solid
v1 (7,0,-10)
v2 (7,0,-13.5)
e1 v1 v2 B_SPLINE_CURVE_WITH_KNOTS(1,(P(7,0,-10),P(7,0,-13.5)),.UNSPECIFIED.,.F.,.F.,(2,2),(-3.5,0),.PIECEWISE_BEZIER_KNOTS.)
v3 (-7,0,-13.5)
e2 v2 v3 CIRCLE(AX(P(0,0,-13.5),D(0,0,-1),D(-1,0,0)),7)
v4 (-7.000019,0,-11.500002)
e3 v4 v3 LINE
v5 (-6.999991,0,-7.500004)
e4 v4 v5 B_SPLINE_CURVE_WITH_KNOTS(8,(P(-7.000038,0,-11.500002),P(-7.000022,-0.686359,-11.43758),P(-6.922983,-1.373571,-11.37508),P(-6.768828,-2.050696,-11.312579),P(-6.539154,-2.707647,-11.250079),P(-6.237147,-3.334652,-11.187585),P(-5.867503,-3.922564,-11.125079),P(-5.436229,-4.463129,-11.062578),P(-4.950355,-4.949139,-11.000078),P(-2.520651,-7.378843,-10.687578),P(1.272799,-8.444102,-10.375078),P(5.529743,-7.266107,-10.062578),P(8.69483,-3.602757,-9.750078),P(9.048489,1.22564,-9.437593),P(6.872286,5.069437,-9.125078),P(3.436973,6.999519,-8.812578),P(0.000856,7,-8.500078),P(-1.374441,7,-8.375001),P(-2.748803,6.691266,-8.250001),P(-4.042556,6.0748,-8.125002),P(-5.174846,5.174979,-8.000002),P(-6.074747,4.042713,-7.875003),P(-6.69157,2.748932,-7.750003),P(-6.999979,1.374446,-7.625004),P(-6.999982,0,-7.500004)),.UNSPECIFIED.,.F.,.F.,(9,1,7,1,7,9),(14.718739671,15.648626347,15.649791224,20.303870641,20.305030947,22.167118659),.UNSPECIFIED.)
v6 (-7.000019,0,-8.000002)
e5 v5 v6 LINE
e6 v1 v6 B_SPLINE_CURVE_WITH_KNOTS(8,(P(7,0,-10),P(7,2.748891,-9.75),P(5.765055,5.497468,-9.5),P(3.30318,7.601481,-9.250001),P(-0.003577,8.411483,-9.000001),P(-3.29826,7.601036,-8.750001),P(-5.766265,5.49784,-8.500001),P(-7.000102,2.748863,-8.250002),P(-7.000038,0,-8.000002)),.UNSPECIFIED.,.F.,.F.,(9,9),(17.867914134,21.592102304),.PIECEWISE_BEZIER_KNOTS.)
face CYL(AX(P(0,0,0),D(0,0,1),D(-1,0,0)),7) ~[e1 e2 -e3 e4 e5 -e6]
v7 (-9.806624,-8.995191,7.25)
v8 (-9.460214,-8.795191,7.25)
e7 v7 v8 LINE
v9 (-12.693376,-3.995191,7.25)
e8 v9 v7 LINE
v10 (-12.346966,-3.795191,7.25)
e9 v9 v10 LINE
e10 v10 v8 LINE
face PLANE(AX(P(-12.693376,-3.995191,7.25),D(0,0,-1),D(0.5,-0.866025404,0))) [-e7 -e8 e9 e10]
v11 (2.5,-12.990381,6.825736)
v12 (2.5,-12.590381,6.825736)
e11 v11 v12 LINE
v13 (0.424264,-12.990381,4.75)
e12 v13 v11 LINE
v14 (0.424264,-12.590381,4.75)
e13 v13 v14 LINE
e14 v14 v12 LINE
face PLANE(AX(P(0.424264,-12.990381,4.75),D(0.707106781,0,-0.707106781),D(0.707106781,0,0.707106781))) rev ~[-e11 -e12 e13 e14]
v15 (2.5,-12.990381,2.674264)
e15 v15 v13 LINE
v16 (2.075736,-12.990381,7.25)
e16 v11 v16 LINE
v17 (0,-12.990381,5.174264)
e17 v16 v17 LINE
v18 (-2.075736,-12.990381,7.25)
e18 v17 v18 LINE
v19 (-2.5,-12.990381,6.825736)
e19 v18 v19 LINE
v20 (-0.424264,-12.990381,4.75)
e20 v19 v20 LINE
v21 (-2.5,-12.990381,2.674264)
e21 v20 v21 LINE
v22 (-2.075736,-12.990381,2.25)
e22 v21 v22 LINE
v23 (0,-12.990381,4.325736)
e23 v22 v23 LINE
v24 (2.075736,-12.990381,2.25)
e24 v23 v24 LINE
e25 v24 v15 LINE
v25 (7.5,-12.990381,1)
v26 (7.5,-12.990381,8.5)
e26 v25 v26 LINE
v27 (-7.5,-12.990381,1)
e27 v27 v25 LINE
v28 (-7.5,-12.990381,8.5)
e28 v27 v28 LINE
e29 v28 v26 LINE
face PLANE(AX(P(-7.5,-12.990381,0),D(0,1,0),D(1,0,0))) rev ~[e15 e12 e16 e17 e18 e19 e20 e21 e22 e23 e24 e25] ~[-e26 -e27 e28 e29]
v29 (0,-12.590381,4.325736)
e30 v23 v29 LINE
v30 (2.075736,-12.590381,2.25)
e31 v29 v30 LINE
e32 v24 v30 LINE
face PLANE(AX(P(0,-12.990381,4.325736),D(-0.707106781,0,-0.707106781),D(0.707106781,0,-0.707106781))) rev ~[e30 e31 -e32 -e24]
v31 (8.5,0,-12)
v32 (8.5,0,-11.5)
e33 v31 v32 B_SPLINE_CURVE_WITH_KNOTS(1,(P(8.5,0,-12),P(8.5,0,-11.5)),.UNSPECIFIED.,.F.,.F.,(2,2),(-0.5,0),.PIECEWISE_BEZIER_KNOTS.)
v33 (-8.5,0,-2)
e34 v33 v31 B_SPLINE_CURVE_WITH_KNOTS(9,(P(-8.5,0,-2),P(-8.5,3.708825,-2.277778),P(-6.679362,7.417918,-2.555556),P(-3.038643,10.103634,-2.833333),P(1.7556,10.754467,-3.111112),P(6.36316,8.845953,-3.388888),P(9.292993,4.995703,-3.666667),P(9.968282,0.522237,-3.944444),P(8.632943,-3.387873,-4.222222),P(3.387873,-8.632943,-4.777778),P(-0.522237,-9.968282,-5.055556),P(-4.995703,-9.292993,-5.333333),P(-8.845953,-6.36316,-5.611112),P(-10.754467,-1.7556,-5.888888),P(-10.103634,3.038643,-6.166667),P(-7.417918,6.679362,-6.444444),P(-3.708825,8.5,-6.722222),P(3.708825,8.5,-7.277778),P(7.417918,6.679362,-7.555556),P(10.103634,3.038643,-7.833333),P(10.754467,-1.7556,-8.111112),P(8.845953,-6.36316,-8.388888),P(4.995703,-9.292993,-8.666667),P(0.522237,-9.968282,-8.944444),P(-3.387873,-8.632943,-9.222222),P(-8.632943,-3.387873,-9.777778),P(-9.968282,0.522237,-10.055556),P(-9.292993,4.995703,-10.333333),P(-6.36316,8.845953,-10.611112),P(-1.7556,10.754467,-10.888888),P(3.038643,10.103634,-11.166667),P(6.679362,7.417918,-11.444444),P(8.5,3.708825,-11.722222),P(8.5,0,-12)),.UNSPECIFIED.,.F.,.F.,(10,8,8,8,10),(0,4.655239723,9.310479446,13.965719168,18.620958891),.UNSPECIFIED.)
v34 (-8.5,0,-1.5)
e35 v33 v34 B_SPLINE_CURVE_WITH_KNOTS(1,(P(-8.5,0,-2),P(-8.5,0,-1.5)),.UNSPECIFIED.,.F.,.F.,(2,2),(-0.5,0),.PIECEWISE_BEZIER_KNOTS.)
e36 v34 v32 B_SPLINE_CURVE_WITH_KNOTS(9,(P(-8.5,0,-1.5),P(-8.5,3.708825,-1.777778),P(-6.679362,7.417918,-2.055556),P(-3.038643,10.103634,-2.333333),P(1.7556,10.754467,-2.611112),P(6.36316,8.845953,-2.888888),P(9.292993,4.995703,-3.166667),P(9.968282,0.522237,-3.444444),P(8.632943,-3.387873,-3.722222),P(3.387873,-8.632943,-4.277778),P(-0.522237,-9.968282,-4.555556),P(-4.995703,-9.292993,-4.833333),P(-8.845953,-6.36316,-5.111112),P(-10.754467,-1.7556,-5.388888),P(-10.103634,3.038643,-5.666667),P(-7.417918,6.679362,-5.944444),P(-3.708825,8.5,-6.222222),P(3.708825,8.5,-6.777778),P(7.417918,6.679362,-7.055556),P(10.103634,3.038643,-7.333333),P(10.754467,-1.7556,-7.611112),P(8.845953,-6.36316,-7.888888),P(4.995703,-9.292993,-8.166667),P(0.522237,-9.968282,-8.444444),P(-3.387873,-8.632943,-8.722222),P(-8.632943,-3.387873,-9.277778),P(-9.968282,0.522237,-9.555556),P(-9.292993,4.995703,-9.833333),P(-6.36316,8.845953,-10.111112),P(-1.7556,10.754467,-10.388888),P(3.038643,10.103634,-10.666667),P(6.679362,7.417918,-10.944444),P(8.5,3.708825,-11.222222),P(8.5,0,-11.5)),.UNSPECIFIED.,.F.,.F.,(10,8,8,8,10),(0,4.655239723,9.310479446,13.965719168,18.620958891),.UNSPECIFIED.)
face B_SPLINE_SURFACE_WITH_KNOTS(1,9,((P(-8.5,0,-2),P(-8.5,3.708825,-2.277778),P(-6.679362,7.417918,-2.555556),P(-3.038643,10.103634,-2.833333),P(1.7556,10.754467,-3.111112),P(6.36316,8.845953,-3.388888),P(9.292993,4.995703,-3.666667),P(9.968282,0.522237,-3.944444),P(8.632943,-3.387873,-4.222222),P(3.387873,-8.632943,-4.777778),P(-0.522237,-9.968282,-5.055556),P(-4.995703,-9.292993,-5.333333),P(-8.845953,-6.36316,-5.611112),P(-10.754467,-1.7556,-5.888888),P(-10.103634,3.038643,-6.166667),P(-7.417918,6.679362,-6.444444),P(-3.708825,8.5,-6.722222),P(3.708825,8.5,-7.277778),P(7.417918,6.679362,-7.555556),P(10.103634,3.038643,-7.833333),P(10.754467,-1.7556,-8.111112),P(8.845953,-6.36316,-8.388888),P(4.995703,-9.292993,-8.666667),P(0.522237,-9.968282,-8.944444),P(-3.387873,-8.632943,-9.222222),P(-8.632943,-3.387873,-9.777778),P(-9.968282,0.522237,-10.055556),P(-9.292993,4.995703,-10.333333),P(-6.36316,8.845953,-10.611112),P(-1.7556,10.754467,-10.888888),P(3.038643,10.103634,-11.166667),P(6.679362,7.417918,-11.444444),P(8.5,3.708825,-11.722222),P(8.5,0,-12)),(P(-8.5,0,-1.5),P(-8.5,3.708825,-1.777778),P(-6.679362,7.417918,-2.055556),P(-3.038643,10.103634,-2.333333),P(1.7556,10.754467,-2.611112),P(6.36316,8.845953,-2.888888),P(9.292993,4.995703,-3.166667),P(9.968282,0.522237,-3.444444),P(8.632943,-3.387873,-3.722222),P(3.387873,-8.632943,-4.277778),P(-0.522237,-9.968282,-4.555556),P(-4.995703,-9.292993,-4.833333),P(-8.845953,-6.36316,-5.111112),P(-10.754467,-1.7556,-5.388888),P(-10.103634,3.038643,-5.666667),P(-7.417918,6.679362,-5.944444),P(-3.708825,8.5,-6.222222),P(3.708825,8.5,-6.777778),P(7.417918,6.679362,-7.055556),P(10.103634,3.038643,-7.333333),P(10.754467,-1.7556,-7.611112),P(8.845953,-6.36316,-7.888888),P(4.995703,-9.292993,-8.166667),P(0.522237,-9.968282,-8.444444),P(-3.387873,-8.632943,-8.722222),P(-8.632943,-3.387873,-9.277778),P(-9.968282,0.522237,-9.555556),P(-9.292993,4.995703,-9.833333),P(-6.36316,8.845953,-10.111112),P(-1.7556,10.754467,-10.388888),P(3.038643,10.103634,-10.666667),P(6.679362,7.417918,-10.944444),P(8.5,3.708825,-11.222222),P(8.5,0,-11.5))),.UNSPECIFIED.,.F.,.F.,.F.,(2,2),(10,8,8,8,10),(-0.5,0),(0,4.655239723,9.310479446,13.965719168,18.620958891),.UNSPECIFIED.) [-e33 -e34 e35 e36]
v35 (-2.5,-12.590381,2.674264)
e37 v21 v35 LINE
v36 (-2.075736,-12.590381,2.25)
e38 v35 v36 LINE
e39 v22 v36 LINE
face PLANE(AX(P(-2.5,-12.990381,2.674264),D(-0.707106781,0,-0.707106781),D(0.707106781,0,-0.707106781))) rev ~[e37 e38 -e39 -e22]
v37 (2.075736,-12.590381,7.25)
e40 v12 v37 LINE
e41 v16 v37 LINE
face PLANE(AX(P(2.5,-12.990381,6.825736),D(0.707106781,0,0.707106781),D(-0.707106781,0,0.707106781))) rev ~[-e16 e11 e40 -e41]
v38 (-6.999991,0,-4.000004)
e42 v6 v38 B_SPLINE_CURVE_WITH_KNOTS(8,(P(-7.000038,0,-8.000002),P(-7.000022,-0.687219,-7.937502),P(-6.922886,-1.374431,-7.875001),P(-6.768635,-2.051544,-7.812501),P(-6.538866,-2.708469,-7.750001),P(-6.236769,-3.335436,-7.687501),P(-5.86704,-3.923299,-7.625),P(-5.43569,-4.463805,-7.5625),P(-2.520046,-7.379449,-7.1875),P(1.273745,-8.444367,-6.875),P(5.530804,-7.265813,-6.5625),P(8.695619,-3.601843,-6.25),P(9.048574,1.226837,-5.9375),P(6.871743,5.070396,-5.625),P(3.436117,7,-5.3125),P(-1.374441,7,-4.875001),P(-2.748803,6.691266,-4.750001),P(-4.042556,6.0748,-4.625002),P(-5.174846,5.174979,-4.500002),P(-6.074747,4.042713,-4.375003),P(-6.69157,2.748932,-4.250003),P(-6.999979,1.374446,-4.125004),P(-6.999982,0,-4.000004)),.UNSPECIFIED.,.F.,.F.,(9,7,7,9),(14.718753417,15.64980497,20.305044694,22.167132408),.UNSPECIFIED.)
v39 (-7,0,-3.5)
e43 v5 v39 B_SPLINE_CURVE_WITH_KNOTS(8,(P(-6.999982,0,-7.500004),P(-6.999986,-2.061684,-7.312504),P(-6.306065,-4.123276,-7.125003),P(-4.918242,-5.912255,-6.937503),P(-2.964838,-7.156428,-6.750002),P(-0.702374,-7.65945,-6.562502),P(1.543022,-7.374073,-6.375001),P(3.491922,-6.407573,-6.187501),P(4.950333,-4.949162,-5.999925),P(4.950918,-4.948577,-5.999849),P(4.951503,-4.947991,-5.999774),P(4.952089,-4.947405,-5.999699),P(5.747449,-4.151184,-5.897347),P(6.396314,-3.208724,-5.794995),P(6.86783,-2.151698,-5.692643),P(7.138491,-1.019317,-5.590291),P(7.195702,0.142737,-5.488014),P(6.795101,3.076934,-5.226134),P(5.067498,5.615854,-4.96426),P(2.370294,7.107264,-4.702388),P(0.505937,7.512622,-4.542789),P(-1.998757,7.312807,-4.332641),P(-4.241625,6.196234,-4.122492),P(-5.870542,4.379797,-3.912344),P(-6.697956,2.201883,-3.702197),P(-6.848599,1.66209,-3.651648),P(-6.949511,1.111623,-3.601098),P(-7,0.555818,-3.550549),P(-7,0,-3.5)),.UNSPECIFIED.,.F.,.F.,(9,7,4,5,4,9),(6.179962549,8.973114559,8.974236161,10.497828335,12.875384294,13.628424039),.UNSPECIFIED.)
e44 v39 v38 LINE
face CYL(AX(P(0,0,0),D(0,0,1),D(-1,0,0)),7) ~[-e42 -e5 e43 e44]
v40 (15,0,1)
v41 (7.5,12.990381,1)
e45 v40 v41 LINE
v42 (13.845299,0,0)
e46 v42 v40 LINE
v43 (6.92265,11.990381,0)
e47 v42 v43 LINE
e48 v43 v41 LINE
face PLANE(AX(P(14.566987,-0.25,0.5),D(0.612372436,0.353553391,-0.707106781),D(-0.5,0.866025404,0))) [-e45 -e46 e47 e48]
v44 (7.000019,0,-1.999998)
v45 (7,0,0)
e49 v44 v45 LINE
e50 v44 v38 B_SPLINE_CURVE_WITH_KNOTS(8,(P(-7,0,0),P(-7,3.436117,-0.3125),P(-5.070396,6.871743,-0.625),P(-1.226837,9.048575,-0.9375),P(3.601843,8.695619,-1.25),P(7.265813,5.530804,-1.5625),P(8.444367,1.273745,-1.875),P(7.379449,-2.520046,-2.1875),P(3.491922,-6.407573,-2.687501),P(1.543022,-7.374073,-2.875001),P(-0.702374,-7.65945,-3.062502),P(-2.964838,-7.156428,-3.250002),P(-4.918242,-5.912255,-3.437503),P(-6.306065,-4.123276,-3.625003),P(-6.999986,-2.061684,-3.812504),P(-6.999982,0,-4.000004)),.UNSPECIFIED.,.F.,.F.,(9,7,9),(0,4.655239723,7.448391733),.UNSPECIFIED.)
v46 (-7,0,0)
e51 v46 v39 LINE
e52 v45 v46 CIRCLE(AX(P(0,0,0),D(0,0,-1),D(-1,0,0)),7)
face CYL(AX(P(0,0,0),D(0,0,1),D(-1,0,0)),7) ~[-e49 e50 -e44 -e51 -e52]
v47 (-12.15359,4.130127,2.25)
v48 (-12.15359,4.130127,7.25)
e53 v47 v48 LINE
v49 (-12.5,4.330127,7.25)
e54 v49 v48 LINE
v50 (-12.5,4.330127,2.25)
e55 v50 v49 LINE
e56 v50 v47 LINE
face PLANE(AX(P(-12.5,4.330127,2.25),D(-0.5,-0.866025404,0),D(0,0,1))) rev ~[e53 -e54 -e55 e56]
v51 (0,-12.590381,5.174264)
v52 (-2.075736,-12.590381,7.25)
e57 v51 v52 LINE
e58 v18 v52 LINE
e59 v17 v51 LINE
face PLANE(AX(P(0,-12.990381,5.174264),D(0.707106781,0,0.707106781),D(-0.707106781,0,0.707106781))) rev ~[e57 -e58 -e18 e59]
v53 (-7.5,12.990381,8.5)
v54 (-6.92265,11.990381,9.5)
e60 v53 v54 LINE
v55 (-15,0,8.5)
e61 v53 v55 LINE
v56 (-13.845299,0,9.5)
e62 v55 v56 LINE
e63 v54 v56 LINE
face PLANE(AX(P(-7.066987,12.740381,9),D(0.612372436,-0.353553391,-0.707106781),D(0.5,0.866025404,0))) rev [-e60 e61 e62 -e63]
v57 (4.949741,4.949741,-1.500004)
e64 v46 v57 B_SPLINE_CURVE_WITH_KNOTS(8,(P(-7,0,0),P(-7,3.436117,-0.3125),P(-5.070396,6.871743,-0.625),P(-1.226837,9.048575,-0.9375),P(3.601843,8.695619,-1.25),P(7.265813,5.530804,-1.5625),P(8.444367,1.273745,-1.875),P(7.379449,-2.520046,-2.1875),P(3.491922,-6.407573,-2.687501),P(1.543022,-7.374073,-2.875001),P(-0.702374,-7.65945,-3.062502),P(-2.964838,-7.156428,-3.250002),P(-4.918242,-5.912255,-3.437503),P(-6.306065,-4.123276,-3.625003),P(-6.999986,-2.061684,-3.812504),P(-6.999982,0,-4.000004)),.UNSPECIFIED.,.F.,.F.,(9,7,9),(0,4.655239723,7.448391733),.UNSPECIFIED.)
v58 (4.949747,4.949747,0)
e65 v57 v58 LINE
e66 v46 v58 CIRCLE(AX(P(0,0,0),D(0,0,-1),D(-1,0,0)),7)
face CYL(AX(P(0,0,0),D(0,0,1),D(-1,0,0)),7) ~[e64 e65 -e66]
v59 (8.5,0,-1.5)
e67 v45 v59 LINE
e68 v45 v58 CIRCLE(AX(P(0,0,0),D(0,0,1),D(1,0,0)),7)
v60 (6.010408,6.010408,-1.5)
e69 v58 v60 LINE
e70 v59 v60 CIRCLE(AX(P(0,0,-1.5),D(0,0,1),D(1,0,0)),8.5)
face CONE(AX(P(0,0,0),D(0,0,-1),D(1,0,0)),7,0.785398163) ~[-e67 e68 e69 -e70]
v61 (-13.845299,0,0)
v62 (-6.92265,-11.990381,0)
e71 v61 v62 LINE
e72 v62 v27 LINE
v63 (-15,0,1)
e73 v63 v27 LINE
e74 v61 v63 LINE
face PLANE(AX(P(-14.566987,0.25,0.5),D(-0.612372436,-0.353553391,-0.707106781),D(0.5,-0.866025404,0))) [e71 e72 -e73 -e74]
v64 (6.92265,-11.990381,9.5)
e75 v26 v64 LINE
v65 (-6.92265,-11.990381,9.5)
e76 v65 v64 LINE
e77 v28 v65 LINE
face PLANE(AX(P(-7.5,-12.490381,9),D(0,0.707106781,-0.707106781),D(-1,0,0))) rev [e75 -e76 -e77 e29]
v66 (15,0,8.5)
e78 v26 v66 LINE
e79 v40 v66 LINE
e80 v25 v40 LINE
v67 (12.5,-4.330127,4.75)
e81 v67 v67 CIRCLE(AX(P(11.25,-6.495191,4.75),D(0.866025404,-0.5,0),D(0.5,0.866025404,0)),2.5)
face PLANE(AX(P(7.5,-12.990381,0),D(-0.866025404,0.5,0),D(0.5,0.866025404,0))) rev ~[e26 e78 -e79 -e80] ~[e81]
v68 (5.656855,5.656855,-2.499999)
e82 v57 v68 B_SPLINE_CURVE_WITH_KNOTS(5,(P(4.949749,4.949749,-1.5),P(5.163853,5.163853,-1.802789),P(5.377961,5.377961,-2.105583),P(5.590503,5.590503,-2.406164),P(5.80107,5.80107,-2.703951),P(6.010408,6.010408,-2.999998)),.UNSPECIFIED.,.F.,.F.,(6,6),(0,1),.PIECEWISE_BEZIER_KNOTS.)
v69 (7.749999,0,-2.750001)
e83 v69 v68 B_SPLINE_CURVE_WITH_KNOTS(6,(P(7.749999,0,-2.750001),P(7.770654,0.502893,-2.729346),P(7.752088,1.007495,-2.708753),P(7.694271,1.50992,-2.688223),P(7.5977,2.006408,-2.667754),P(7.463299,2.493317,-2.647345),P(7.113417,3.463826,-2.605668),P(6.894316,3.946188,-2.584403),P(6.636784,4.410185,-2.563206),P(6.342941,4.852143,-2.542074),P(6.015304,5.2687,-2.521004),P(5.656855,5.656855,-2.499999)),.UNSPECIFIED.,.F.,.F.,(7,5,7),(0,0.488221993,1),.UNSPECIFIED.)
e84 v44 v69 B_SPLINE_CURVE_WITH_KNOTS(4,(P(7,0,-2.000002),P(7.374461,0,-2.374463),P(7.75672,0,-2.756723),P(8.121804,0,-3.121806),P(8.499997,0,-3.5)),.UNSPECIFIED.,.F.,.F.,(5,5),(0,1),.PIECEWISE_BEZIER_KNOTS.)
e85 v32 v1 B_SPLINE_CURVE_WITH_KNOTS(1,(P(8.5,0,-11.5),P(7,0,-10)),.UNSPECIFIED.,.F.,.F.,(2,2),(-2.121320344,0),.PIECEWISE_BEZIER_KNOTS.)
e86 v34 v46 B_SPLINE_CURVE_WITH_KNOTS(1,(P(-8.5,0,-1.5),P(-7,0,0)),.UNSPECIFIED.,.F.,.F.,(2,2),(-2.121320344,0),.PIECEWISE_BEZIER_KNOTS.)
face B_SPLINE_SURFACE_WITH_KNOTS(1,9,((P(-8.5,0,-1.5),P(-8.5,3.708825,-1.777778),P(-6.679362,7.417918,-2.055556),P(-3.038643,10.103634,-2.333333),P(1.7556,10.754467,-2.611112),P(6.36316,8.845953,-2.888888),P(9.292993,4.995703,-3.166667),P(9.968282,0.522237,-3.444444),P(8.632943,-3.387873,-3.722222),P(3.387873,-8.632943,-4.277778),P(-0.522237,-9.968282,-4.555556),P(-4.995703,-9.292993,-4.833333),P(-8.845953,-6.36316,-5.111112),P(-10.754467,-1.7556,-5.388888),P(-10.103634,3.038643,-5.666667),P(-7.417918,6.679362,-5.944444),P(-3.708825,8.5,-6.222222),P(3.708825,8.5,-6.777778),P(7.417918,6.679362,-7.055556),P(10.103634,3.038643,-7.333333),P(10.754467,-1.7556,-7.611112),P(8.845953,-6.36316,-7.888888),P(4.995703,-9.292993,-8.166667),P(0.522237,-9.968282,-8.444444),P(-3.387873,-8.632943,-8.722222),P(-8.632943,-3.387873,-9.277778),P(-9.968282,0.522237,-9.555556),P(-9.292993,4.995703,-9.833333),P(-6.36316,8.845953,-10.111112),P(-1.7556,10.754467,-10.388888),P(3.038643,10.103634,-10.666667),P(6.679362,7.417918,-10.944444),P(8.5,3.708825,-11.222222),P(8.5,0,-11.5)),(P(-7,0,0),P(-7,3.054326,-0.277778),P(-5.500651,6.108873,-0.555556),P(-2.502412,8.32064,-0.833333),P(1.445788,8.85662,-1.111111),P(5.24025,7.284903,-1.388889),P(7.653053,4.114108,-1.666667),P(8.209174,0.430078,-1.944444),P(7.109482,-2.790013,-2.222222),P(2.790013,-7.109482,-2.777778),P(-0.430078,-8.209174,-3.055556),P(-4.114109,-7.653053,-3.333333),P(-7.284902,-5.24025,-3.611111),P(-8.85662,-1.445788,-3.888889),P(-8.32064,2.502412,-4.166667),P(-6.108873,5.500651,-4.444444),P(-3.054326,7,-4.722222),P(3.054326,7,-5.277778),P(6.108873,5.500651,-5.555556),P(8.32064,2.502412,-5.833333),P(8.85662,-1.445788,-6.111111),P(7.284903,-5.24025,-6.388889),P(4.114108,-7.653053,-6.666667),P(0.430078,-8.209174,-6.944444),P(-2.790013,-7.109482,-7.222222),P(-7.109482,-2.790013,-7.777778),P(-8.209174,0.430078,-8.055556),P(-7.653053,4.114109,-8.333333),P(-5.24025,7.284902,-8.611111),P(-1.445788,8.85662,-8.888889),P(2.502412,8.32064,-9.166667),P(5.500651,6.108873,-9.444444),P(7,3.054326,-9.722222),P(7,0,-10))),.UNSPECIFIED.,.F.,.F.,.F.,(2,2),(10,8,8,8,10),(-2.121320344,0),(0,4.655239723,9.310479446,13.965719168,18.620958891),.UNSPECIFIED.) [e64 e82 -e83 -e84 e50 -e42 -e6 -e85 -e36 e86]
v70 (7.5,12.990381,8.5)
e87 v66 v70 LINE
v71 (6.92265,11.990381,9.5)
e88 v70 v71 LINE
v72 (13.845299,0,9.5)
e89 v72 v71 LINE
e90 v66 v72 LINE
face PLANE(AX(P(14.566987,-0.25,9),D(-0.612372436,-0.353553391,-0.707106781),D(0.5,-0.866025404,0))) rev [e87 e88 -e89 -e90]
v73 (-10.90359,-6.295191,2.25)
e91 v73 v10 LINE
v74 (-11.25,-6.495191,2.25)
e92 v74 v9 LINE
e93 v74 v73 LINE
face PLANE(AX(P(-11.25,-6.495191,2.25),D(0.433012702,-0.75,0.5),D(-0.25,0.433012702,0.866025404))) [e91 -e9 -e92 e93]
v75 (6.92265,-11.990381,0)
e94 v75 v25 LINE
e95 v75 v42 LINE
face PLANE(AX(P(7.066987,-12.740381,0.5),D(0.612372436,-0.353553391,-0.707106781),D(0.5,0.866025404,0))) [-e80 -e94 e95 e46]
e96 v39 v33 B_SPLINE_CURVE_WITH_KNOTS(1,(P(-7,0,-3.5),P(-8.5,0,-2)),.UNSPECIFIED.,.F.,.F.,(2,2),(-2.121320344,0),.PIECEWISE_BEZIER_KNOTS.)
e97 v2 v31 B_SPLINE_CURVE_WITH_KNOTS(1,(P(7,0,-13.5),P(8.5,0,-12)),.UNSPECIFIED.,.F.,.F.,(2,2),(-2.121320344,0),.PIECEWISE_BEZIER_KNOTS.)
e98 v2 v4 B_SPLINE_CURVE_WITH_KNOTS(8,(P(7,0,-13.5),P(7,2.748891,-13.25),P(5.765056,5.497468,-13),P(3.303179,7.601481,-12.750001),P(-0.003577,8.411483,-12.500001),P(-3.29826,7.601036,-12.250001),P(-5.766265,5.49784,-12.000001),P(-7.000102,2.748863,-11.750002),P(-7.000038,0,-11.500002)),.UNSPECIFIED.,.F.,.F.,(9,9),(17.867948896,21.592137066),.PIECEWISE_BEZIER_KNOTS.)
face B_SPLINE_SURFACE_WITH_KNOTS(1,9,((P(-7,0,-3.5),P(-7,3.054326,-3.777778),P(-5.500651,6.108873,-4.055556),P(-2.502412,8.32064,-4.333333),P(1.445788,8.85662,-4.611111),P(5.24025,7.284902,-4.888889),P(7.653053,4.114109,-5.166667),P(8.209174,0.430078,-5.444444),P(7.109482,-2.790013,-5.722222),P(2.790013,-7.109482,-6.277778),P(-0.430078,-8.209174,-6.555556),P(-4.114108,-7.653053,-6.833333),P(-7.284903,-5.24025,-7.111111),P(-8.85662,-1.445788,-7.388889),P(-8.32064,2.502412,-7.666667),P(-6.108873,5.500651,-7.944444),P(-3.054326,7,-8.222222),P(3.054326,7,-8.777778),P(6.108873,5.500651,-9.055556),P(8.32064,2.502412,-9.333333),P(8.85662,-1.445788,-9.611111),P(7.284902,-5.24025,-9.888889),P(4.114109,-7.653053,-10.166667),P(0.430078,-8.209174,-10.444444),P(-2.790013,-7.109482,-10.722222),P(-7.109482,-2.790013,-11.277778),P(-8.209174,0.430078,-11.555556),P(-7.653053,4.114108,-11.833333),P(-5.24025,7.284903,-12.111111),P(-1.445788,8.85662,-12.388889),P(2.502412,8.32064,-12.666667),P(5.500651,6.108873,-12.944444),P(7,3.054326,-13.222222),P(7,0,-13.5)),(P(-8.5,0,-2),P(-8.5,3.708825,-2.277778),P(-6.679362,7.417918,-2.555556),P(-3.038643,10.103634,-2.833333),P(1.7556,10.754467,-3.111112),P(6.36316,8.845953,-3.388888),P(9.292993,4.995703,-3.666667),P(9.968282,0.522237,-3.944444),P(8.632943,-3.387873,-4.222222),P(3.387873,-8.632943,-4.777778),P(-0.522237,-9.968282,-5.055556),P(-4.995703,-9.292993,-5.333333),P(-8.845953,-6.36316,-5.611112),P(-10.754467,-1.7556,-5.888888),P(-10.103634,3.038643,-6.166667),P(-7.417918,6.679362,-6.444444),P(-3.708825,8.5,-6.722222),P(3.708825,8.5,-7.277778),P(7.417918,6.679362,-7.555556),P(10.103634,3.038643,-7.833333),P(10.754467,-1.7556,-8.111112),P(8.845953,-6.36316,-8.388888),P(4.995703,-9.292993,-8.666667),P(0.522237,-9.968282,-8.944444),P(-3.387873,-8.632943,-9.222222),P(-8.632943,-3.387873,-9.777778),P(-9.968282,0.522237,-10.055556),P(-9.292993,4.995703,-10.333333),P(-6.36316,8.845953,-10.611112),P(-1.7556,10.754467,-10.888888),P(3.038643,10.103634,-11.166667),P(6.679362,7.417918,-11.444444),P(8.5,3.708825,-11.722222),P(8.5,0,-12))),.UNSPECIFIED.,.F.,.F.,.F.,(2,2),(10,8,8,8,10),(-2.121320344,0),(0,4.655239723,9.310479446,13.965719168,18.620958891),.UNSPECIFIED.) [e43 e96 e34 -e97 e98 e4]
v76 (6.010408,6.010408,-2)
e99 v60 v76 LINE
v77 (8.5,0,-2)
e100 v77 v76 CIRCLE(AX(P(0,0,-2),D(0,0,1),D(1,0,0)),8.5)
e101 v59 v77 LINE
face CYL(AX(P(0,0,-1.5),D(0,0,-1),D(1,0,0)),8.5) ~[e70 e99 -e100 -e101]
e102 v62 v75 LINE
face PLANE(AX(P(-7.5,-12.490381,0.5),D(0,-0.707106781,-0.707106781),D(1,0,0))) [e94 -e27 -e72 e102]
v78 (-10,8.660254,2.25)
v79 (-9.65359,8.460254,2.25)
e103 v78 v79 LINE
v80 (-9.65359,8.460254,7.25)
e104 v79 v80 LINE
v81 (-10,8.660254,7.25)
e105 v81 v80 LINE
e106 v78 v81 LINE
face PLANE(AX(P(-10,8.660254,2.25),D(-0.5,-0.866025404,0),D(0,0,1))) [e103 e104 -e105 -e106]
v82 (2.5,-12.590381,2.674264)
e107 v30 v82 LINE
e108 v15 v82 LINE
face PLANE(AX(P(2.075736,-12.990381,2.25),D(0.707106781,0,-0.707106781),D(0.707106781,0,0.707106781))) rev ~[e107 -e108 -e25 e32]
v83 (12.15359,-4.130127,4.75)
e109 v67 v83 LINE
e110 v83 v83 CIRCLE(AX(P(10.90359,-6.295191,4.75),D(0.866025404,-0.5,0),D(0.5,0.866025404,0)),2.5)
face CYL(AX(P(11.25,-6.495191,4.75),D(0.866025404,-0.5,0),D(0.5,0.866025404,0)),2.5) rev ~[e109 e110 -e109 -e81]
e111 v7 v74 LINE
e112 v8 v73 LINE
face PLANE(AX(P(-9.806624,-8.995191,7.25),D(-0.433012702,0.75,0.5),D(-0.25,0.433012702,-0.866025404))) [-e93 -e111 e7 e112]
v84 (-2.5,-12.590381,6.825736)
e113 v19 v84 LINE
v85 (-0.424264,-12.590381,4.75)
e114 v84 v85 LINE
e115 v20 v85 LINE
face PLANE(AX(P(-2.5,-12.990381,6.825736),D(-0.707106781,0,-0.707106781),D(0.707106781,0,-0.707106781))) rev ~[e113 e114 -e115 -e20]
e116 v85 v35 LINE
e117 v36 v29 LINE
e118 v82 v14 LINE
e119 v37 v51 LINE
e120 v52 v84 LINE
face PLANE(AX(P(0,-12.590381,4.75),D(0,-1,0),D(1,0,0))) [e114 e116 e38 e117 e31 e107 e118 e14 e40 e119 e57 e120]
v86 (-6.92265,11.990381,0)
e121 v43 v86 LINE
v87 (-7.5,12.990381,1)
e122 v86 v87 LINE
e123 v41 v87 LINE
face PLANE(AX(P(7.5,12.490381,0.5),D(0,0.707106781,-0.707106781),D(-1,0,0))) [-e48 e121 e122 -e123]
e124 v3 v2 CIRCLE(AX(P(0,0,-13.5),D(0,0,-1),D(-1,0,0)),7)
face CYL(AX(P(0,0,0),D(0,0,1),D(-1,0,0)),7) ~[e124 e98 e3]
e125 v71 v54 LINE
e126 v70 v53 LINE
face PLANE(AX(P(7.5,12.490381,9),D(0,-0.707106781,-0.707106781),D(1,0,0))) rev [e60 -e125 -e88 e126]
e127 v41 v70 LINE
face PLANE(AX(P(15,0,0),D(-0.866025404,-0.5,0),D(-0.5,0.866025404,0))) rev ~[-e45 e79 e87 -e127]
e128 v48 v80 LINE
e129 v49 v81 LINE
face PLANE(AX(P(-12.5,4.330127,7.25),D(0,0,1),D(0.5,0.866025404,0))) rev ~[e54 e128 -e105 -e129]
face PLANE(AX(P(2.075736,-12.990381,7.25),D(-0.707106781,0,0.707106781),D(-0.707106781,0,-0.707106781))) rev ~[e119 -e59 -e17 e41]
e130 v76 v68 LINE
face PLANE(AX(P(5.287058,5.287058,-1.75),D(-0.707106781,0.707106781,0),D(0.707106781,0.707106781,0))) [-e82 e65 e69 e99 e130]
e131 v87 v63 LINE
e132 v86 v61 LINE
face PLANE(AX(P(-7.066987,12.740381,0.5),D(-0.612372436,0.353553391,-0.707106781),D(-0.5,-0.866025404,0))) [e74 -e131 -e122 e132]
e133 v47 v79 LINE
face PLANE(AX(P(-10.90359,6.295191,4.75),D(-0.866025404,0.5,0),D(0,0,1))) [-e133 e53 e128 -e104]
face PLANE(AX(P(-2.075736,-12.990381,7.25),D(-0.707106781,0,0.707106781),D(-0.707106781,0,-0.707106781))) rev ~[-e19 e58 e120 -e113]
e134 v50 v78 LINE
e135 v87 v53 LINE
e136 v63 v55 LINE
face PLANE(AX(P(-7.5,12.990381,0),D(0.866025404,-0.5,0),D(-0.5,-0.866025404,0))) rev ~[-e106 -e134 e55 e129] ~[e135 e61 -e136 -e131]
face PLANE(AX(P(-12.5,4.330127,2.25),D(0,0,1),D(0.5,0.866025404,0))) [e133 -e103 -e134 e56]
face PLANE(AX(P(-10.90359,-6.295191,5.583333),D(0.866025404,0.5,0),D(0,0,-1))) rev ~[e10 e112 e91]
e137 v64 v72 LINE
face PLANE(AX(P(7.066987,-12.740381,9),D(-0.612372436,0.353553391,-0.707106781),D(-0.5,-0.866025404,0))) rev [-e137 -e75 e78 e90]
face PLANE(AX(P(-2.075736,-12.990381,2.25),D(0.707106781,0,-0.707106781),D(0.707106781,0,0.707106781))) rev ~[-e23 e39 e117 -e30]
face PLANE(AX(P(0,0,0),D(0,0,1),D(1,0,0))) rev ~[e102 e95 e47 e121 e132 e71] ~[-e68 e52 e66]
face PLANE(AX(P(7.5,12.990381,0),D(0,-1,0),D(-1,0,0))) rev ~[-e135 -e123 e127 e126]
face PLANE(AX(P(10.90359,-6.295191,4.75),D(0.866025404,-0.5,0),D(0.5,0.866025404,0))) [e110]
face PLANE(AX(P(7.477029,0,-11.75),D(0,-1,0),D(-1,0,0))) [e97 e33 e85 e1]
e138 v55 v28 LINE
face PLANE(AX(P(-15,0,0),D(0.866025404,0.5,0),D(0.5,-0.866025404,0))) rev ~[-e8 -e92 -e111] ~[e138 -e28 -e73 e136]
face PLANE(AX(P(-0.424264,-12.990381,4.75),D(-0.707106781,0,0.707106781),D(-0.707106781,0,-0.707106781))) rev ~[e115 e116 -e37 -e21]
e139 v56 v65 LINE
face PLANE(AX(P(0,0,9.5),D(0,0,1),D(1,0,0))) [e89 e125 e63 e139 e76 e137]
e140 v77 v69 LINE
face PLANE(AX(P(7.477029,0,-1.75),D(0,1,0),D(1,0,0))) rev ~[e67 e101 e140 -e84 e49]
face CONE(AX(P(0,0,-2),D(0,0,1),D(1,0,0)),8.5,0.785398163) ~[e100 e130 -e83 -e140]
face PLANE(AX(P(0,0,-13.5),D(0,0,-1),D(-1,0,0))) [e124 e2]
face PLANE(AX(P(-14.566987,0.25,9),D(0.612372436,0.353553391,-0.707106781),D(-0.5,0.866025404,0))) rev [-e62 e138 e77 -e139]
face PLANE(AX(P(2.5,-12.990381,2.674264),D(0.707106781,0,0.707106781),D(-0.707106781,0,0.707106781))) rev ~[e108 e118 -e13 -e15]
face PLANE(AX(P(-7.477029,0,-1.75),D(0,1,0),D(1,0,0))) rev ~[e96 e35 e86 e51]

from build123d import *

# Parameters (mm, degrees)
EXTRUDE_1_DEPTH     = 9.5
SKETCH_6_R          = 7
EXTRUDE_2_DEPTH     = 13.5
SWEEP_1_PITCH       = 4
SWEEP_1_HEIGHT      = 10
SWEEP_1_RADIUS      = 7
REVOLVE_2_ANGLE     = 45
CHAMFER_1_SIZE      = 1
CUT_EXTRUDE_2_DEPTH = 0.4
SKETCH_13_R         = 2.5
CUT_EXTRUDE_3_DEPTH = 0.4
CUT_EXTRUDE_4_DEPTH = 0.4
SKETCH_14_W         = 5
SKETCH_14_H         = 5
CUT_EXTRUDE_5_DEPTH = 0.4


with BuildPart() as part:
    # 草图1 → 凸台-拉伸1 (new body)
    with BuildSketch(Plane.XY):
        Polygon((15, 0), (7.5, 12.990381057), (-7.5, 12.990381057), (-15, 0), (-7.5, -12.990381057), (7.5, -12.990381057), align=None)
    extrude(amount=EXTRUDE_1_DEPTH)

    # 草图6 → 凸台-拉伸2 (add)
    with BuildSketch(Plane(origin=(0, 0, 0), x_dir=(-1, 0, 0), z_dir=(0, 0, -1))):
        Circle(SKETCH_6_R)
    extrude(amount=EXTRUDE_2_DEPTH)

    # 扫描1: sweep along a helix
    with BuildLine() as sweep_1_path:
        Helix(SWEEP_1_PITCH, SWEEP_1_HEIGHT, SWEEP_1_RADIUS, center=(0, 0, -1.75), direction=(0, 0, -1))
    # 草图8 → 扫描1 (sweep)
    with BuildSketch(Plane(origin=(0, 0, 0), x_dir=(1, 0, 0), z_dir=(0, 1, 0))):
        Polygon((-7, 3.5), (-7, 0), (-8.5, 1.5), (-8.5, 2), align=None)
    sweep(path=sweep_1_path.line, is_frenet=True)

    # 草图9 → 旋转2 (revolve)
    with BuildSketch(Plane(origin=(0, 0, 0), x_dir=(1, 0, 0), z_dir=(0, 1, 0))):
        Polygon((7, 3.5), (7, 0), (8.5, 1.5), (8.5, 2), align=None)
    revolve(axis=Axis((0, 0, 0), (0, 0, 1)), revolution_arc=REVOLVE_2_ANGLE)

    # 倒角1
    chamfer_1_edges = [part.edges().sort_by_distance(p)[0] for p in [
        (-11.25, 6.495190528, 9.5),
        (-11.25, -6.495190528, 9.5),
        (0, -12.990381057, 9.5),
        (11.25, -6.495190528, 9.5),
        (11.25, 6.495190528, 9.5),
        (11.25, -6.495190528, 0),
        (0, -12.990381057, 0),
        (-11.25, -6.495190528, 0),
        (-11.25, 6.495190528, 0),
        (0, 12.990381057, 0),
        (11.25, 6.495190528, 0),
        (0, 12.990381057, 9.5),
    ]]
    chamfer(chamfer_1_edges, length=CHAMFER_1_SIZE)

    # 草图11 → 切除-拉伸2 (cut)
    with BuildSketch(Plane(origin=(-11.25, -6.495190528, 0), x_dir=(0, 0, 1), z_dir=(-0.8660254037844389, -0.4999999999999995, 0))):
        Polygon((2.25, 0), (7.25, 2.886751346), (7.25, -2.886751346), align=None)
    extrude(amount=-CUT_EXTRUDE_2_DEPTH, mode=Mode.SUBTRACT)

    # 草图13 → 切除-拉伸3 (cut)
    with BuildSketch(Plane(origin=(11.25, -6.495190528, 0), x_dir=(0, 0, -1), z_dir=(0.8660254037844387, -0.5000000000000001, 0))):
        with Locations(Location((-4.75, 0, 0), (0, 0, 90))):
            Circle(SKETCH_13_R)
    extrude(amount=-CUT_EXTRUDE_3_DEPTH, mode=Mode.SUBTRACT)

    # 草图12 → 切除-拉伸4 (cut)
    with BuildSketch(Plane.XZ.offset(12.990381057)):
        Polygon((-2.5, 6.825735931), (2.075735931, 2.25), (2.5, 2.674264069), (-2.075735931, 7.25), align=None)
        Polygon((2.075735931, 7.25), (-2.5, 2.674264069), (-2.075735931, 2.25), (2.5, 6.825735931), align=None)
    extrude(amount=-CUT_EXTRUDE_4_DEPTH, mode=Mode.SUBTRACT)

    # 草图14 → 切除-拉伸5 (cut)
    with BuildSketch(Plane(origin=(-11.25, 6.495190528, 0), x_dir=(0, 0, 1), z_dir=(-0.8660254037844384, 0.5000000000000006, 0))):
        with Locations((4.75, 0)):
            Rectangle(SKETCH_14_W, SKETCH_14_H)
    extrude(amount=-CUT_EXTRUDE_5_DEPTH, mode=Mode.SUBTRACT)


solid = part.part
